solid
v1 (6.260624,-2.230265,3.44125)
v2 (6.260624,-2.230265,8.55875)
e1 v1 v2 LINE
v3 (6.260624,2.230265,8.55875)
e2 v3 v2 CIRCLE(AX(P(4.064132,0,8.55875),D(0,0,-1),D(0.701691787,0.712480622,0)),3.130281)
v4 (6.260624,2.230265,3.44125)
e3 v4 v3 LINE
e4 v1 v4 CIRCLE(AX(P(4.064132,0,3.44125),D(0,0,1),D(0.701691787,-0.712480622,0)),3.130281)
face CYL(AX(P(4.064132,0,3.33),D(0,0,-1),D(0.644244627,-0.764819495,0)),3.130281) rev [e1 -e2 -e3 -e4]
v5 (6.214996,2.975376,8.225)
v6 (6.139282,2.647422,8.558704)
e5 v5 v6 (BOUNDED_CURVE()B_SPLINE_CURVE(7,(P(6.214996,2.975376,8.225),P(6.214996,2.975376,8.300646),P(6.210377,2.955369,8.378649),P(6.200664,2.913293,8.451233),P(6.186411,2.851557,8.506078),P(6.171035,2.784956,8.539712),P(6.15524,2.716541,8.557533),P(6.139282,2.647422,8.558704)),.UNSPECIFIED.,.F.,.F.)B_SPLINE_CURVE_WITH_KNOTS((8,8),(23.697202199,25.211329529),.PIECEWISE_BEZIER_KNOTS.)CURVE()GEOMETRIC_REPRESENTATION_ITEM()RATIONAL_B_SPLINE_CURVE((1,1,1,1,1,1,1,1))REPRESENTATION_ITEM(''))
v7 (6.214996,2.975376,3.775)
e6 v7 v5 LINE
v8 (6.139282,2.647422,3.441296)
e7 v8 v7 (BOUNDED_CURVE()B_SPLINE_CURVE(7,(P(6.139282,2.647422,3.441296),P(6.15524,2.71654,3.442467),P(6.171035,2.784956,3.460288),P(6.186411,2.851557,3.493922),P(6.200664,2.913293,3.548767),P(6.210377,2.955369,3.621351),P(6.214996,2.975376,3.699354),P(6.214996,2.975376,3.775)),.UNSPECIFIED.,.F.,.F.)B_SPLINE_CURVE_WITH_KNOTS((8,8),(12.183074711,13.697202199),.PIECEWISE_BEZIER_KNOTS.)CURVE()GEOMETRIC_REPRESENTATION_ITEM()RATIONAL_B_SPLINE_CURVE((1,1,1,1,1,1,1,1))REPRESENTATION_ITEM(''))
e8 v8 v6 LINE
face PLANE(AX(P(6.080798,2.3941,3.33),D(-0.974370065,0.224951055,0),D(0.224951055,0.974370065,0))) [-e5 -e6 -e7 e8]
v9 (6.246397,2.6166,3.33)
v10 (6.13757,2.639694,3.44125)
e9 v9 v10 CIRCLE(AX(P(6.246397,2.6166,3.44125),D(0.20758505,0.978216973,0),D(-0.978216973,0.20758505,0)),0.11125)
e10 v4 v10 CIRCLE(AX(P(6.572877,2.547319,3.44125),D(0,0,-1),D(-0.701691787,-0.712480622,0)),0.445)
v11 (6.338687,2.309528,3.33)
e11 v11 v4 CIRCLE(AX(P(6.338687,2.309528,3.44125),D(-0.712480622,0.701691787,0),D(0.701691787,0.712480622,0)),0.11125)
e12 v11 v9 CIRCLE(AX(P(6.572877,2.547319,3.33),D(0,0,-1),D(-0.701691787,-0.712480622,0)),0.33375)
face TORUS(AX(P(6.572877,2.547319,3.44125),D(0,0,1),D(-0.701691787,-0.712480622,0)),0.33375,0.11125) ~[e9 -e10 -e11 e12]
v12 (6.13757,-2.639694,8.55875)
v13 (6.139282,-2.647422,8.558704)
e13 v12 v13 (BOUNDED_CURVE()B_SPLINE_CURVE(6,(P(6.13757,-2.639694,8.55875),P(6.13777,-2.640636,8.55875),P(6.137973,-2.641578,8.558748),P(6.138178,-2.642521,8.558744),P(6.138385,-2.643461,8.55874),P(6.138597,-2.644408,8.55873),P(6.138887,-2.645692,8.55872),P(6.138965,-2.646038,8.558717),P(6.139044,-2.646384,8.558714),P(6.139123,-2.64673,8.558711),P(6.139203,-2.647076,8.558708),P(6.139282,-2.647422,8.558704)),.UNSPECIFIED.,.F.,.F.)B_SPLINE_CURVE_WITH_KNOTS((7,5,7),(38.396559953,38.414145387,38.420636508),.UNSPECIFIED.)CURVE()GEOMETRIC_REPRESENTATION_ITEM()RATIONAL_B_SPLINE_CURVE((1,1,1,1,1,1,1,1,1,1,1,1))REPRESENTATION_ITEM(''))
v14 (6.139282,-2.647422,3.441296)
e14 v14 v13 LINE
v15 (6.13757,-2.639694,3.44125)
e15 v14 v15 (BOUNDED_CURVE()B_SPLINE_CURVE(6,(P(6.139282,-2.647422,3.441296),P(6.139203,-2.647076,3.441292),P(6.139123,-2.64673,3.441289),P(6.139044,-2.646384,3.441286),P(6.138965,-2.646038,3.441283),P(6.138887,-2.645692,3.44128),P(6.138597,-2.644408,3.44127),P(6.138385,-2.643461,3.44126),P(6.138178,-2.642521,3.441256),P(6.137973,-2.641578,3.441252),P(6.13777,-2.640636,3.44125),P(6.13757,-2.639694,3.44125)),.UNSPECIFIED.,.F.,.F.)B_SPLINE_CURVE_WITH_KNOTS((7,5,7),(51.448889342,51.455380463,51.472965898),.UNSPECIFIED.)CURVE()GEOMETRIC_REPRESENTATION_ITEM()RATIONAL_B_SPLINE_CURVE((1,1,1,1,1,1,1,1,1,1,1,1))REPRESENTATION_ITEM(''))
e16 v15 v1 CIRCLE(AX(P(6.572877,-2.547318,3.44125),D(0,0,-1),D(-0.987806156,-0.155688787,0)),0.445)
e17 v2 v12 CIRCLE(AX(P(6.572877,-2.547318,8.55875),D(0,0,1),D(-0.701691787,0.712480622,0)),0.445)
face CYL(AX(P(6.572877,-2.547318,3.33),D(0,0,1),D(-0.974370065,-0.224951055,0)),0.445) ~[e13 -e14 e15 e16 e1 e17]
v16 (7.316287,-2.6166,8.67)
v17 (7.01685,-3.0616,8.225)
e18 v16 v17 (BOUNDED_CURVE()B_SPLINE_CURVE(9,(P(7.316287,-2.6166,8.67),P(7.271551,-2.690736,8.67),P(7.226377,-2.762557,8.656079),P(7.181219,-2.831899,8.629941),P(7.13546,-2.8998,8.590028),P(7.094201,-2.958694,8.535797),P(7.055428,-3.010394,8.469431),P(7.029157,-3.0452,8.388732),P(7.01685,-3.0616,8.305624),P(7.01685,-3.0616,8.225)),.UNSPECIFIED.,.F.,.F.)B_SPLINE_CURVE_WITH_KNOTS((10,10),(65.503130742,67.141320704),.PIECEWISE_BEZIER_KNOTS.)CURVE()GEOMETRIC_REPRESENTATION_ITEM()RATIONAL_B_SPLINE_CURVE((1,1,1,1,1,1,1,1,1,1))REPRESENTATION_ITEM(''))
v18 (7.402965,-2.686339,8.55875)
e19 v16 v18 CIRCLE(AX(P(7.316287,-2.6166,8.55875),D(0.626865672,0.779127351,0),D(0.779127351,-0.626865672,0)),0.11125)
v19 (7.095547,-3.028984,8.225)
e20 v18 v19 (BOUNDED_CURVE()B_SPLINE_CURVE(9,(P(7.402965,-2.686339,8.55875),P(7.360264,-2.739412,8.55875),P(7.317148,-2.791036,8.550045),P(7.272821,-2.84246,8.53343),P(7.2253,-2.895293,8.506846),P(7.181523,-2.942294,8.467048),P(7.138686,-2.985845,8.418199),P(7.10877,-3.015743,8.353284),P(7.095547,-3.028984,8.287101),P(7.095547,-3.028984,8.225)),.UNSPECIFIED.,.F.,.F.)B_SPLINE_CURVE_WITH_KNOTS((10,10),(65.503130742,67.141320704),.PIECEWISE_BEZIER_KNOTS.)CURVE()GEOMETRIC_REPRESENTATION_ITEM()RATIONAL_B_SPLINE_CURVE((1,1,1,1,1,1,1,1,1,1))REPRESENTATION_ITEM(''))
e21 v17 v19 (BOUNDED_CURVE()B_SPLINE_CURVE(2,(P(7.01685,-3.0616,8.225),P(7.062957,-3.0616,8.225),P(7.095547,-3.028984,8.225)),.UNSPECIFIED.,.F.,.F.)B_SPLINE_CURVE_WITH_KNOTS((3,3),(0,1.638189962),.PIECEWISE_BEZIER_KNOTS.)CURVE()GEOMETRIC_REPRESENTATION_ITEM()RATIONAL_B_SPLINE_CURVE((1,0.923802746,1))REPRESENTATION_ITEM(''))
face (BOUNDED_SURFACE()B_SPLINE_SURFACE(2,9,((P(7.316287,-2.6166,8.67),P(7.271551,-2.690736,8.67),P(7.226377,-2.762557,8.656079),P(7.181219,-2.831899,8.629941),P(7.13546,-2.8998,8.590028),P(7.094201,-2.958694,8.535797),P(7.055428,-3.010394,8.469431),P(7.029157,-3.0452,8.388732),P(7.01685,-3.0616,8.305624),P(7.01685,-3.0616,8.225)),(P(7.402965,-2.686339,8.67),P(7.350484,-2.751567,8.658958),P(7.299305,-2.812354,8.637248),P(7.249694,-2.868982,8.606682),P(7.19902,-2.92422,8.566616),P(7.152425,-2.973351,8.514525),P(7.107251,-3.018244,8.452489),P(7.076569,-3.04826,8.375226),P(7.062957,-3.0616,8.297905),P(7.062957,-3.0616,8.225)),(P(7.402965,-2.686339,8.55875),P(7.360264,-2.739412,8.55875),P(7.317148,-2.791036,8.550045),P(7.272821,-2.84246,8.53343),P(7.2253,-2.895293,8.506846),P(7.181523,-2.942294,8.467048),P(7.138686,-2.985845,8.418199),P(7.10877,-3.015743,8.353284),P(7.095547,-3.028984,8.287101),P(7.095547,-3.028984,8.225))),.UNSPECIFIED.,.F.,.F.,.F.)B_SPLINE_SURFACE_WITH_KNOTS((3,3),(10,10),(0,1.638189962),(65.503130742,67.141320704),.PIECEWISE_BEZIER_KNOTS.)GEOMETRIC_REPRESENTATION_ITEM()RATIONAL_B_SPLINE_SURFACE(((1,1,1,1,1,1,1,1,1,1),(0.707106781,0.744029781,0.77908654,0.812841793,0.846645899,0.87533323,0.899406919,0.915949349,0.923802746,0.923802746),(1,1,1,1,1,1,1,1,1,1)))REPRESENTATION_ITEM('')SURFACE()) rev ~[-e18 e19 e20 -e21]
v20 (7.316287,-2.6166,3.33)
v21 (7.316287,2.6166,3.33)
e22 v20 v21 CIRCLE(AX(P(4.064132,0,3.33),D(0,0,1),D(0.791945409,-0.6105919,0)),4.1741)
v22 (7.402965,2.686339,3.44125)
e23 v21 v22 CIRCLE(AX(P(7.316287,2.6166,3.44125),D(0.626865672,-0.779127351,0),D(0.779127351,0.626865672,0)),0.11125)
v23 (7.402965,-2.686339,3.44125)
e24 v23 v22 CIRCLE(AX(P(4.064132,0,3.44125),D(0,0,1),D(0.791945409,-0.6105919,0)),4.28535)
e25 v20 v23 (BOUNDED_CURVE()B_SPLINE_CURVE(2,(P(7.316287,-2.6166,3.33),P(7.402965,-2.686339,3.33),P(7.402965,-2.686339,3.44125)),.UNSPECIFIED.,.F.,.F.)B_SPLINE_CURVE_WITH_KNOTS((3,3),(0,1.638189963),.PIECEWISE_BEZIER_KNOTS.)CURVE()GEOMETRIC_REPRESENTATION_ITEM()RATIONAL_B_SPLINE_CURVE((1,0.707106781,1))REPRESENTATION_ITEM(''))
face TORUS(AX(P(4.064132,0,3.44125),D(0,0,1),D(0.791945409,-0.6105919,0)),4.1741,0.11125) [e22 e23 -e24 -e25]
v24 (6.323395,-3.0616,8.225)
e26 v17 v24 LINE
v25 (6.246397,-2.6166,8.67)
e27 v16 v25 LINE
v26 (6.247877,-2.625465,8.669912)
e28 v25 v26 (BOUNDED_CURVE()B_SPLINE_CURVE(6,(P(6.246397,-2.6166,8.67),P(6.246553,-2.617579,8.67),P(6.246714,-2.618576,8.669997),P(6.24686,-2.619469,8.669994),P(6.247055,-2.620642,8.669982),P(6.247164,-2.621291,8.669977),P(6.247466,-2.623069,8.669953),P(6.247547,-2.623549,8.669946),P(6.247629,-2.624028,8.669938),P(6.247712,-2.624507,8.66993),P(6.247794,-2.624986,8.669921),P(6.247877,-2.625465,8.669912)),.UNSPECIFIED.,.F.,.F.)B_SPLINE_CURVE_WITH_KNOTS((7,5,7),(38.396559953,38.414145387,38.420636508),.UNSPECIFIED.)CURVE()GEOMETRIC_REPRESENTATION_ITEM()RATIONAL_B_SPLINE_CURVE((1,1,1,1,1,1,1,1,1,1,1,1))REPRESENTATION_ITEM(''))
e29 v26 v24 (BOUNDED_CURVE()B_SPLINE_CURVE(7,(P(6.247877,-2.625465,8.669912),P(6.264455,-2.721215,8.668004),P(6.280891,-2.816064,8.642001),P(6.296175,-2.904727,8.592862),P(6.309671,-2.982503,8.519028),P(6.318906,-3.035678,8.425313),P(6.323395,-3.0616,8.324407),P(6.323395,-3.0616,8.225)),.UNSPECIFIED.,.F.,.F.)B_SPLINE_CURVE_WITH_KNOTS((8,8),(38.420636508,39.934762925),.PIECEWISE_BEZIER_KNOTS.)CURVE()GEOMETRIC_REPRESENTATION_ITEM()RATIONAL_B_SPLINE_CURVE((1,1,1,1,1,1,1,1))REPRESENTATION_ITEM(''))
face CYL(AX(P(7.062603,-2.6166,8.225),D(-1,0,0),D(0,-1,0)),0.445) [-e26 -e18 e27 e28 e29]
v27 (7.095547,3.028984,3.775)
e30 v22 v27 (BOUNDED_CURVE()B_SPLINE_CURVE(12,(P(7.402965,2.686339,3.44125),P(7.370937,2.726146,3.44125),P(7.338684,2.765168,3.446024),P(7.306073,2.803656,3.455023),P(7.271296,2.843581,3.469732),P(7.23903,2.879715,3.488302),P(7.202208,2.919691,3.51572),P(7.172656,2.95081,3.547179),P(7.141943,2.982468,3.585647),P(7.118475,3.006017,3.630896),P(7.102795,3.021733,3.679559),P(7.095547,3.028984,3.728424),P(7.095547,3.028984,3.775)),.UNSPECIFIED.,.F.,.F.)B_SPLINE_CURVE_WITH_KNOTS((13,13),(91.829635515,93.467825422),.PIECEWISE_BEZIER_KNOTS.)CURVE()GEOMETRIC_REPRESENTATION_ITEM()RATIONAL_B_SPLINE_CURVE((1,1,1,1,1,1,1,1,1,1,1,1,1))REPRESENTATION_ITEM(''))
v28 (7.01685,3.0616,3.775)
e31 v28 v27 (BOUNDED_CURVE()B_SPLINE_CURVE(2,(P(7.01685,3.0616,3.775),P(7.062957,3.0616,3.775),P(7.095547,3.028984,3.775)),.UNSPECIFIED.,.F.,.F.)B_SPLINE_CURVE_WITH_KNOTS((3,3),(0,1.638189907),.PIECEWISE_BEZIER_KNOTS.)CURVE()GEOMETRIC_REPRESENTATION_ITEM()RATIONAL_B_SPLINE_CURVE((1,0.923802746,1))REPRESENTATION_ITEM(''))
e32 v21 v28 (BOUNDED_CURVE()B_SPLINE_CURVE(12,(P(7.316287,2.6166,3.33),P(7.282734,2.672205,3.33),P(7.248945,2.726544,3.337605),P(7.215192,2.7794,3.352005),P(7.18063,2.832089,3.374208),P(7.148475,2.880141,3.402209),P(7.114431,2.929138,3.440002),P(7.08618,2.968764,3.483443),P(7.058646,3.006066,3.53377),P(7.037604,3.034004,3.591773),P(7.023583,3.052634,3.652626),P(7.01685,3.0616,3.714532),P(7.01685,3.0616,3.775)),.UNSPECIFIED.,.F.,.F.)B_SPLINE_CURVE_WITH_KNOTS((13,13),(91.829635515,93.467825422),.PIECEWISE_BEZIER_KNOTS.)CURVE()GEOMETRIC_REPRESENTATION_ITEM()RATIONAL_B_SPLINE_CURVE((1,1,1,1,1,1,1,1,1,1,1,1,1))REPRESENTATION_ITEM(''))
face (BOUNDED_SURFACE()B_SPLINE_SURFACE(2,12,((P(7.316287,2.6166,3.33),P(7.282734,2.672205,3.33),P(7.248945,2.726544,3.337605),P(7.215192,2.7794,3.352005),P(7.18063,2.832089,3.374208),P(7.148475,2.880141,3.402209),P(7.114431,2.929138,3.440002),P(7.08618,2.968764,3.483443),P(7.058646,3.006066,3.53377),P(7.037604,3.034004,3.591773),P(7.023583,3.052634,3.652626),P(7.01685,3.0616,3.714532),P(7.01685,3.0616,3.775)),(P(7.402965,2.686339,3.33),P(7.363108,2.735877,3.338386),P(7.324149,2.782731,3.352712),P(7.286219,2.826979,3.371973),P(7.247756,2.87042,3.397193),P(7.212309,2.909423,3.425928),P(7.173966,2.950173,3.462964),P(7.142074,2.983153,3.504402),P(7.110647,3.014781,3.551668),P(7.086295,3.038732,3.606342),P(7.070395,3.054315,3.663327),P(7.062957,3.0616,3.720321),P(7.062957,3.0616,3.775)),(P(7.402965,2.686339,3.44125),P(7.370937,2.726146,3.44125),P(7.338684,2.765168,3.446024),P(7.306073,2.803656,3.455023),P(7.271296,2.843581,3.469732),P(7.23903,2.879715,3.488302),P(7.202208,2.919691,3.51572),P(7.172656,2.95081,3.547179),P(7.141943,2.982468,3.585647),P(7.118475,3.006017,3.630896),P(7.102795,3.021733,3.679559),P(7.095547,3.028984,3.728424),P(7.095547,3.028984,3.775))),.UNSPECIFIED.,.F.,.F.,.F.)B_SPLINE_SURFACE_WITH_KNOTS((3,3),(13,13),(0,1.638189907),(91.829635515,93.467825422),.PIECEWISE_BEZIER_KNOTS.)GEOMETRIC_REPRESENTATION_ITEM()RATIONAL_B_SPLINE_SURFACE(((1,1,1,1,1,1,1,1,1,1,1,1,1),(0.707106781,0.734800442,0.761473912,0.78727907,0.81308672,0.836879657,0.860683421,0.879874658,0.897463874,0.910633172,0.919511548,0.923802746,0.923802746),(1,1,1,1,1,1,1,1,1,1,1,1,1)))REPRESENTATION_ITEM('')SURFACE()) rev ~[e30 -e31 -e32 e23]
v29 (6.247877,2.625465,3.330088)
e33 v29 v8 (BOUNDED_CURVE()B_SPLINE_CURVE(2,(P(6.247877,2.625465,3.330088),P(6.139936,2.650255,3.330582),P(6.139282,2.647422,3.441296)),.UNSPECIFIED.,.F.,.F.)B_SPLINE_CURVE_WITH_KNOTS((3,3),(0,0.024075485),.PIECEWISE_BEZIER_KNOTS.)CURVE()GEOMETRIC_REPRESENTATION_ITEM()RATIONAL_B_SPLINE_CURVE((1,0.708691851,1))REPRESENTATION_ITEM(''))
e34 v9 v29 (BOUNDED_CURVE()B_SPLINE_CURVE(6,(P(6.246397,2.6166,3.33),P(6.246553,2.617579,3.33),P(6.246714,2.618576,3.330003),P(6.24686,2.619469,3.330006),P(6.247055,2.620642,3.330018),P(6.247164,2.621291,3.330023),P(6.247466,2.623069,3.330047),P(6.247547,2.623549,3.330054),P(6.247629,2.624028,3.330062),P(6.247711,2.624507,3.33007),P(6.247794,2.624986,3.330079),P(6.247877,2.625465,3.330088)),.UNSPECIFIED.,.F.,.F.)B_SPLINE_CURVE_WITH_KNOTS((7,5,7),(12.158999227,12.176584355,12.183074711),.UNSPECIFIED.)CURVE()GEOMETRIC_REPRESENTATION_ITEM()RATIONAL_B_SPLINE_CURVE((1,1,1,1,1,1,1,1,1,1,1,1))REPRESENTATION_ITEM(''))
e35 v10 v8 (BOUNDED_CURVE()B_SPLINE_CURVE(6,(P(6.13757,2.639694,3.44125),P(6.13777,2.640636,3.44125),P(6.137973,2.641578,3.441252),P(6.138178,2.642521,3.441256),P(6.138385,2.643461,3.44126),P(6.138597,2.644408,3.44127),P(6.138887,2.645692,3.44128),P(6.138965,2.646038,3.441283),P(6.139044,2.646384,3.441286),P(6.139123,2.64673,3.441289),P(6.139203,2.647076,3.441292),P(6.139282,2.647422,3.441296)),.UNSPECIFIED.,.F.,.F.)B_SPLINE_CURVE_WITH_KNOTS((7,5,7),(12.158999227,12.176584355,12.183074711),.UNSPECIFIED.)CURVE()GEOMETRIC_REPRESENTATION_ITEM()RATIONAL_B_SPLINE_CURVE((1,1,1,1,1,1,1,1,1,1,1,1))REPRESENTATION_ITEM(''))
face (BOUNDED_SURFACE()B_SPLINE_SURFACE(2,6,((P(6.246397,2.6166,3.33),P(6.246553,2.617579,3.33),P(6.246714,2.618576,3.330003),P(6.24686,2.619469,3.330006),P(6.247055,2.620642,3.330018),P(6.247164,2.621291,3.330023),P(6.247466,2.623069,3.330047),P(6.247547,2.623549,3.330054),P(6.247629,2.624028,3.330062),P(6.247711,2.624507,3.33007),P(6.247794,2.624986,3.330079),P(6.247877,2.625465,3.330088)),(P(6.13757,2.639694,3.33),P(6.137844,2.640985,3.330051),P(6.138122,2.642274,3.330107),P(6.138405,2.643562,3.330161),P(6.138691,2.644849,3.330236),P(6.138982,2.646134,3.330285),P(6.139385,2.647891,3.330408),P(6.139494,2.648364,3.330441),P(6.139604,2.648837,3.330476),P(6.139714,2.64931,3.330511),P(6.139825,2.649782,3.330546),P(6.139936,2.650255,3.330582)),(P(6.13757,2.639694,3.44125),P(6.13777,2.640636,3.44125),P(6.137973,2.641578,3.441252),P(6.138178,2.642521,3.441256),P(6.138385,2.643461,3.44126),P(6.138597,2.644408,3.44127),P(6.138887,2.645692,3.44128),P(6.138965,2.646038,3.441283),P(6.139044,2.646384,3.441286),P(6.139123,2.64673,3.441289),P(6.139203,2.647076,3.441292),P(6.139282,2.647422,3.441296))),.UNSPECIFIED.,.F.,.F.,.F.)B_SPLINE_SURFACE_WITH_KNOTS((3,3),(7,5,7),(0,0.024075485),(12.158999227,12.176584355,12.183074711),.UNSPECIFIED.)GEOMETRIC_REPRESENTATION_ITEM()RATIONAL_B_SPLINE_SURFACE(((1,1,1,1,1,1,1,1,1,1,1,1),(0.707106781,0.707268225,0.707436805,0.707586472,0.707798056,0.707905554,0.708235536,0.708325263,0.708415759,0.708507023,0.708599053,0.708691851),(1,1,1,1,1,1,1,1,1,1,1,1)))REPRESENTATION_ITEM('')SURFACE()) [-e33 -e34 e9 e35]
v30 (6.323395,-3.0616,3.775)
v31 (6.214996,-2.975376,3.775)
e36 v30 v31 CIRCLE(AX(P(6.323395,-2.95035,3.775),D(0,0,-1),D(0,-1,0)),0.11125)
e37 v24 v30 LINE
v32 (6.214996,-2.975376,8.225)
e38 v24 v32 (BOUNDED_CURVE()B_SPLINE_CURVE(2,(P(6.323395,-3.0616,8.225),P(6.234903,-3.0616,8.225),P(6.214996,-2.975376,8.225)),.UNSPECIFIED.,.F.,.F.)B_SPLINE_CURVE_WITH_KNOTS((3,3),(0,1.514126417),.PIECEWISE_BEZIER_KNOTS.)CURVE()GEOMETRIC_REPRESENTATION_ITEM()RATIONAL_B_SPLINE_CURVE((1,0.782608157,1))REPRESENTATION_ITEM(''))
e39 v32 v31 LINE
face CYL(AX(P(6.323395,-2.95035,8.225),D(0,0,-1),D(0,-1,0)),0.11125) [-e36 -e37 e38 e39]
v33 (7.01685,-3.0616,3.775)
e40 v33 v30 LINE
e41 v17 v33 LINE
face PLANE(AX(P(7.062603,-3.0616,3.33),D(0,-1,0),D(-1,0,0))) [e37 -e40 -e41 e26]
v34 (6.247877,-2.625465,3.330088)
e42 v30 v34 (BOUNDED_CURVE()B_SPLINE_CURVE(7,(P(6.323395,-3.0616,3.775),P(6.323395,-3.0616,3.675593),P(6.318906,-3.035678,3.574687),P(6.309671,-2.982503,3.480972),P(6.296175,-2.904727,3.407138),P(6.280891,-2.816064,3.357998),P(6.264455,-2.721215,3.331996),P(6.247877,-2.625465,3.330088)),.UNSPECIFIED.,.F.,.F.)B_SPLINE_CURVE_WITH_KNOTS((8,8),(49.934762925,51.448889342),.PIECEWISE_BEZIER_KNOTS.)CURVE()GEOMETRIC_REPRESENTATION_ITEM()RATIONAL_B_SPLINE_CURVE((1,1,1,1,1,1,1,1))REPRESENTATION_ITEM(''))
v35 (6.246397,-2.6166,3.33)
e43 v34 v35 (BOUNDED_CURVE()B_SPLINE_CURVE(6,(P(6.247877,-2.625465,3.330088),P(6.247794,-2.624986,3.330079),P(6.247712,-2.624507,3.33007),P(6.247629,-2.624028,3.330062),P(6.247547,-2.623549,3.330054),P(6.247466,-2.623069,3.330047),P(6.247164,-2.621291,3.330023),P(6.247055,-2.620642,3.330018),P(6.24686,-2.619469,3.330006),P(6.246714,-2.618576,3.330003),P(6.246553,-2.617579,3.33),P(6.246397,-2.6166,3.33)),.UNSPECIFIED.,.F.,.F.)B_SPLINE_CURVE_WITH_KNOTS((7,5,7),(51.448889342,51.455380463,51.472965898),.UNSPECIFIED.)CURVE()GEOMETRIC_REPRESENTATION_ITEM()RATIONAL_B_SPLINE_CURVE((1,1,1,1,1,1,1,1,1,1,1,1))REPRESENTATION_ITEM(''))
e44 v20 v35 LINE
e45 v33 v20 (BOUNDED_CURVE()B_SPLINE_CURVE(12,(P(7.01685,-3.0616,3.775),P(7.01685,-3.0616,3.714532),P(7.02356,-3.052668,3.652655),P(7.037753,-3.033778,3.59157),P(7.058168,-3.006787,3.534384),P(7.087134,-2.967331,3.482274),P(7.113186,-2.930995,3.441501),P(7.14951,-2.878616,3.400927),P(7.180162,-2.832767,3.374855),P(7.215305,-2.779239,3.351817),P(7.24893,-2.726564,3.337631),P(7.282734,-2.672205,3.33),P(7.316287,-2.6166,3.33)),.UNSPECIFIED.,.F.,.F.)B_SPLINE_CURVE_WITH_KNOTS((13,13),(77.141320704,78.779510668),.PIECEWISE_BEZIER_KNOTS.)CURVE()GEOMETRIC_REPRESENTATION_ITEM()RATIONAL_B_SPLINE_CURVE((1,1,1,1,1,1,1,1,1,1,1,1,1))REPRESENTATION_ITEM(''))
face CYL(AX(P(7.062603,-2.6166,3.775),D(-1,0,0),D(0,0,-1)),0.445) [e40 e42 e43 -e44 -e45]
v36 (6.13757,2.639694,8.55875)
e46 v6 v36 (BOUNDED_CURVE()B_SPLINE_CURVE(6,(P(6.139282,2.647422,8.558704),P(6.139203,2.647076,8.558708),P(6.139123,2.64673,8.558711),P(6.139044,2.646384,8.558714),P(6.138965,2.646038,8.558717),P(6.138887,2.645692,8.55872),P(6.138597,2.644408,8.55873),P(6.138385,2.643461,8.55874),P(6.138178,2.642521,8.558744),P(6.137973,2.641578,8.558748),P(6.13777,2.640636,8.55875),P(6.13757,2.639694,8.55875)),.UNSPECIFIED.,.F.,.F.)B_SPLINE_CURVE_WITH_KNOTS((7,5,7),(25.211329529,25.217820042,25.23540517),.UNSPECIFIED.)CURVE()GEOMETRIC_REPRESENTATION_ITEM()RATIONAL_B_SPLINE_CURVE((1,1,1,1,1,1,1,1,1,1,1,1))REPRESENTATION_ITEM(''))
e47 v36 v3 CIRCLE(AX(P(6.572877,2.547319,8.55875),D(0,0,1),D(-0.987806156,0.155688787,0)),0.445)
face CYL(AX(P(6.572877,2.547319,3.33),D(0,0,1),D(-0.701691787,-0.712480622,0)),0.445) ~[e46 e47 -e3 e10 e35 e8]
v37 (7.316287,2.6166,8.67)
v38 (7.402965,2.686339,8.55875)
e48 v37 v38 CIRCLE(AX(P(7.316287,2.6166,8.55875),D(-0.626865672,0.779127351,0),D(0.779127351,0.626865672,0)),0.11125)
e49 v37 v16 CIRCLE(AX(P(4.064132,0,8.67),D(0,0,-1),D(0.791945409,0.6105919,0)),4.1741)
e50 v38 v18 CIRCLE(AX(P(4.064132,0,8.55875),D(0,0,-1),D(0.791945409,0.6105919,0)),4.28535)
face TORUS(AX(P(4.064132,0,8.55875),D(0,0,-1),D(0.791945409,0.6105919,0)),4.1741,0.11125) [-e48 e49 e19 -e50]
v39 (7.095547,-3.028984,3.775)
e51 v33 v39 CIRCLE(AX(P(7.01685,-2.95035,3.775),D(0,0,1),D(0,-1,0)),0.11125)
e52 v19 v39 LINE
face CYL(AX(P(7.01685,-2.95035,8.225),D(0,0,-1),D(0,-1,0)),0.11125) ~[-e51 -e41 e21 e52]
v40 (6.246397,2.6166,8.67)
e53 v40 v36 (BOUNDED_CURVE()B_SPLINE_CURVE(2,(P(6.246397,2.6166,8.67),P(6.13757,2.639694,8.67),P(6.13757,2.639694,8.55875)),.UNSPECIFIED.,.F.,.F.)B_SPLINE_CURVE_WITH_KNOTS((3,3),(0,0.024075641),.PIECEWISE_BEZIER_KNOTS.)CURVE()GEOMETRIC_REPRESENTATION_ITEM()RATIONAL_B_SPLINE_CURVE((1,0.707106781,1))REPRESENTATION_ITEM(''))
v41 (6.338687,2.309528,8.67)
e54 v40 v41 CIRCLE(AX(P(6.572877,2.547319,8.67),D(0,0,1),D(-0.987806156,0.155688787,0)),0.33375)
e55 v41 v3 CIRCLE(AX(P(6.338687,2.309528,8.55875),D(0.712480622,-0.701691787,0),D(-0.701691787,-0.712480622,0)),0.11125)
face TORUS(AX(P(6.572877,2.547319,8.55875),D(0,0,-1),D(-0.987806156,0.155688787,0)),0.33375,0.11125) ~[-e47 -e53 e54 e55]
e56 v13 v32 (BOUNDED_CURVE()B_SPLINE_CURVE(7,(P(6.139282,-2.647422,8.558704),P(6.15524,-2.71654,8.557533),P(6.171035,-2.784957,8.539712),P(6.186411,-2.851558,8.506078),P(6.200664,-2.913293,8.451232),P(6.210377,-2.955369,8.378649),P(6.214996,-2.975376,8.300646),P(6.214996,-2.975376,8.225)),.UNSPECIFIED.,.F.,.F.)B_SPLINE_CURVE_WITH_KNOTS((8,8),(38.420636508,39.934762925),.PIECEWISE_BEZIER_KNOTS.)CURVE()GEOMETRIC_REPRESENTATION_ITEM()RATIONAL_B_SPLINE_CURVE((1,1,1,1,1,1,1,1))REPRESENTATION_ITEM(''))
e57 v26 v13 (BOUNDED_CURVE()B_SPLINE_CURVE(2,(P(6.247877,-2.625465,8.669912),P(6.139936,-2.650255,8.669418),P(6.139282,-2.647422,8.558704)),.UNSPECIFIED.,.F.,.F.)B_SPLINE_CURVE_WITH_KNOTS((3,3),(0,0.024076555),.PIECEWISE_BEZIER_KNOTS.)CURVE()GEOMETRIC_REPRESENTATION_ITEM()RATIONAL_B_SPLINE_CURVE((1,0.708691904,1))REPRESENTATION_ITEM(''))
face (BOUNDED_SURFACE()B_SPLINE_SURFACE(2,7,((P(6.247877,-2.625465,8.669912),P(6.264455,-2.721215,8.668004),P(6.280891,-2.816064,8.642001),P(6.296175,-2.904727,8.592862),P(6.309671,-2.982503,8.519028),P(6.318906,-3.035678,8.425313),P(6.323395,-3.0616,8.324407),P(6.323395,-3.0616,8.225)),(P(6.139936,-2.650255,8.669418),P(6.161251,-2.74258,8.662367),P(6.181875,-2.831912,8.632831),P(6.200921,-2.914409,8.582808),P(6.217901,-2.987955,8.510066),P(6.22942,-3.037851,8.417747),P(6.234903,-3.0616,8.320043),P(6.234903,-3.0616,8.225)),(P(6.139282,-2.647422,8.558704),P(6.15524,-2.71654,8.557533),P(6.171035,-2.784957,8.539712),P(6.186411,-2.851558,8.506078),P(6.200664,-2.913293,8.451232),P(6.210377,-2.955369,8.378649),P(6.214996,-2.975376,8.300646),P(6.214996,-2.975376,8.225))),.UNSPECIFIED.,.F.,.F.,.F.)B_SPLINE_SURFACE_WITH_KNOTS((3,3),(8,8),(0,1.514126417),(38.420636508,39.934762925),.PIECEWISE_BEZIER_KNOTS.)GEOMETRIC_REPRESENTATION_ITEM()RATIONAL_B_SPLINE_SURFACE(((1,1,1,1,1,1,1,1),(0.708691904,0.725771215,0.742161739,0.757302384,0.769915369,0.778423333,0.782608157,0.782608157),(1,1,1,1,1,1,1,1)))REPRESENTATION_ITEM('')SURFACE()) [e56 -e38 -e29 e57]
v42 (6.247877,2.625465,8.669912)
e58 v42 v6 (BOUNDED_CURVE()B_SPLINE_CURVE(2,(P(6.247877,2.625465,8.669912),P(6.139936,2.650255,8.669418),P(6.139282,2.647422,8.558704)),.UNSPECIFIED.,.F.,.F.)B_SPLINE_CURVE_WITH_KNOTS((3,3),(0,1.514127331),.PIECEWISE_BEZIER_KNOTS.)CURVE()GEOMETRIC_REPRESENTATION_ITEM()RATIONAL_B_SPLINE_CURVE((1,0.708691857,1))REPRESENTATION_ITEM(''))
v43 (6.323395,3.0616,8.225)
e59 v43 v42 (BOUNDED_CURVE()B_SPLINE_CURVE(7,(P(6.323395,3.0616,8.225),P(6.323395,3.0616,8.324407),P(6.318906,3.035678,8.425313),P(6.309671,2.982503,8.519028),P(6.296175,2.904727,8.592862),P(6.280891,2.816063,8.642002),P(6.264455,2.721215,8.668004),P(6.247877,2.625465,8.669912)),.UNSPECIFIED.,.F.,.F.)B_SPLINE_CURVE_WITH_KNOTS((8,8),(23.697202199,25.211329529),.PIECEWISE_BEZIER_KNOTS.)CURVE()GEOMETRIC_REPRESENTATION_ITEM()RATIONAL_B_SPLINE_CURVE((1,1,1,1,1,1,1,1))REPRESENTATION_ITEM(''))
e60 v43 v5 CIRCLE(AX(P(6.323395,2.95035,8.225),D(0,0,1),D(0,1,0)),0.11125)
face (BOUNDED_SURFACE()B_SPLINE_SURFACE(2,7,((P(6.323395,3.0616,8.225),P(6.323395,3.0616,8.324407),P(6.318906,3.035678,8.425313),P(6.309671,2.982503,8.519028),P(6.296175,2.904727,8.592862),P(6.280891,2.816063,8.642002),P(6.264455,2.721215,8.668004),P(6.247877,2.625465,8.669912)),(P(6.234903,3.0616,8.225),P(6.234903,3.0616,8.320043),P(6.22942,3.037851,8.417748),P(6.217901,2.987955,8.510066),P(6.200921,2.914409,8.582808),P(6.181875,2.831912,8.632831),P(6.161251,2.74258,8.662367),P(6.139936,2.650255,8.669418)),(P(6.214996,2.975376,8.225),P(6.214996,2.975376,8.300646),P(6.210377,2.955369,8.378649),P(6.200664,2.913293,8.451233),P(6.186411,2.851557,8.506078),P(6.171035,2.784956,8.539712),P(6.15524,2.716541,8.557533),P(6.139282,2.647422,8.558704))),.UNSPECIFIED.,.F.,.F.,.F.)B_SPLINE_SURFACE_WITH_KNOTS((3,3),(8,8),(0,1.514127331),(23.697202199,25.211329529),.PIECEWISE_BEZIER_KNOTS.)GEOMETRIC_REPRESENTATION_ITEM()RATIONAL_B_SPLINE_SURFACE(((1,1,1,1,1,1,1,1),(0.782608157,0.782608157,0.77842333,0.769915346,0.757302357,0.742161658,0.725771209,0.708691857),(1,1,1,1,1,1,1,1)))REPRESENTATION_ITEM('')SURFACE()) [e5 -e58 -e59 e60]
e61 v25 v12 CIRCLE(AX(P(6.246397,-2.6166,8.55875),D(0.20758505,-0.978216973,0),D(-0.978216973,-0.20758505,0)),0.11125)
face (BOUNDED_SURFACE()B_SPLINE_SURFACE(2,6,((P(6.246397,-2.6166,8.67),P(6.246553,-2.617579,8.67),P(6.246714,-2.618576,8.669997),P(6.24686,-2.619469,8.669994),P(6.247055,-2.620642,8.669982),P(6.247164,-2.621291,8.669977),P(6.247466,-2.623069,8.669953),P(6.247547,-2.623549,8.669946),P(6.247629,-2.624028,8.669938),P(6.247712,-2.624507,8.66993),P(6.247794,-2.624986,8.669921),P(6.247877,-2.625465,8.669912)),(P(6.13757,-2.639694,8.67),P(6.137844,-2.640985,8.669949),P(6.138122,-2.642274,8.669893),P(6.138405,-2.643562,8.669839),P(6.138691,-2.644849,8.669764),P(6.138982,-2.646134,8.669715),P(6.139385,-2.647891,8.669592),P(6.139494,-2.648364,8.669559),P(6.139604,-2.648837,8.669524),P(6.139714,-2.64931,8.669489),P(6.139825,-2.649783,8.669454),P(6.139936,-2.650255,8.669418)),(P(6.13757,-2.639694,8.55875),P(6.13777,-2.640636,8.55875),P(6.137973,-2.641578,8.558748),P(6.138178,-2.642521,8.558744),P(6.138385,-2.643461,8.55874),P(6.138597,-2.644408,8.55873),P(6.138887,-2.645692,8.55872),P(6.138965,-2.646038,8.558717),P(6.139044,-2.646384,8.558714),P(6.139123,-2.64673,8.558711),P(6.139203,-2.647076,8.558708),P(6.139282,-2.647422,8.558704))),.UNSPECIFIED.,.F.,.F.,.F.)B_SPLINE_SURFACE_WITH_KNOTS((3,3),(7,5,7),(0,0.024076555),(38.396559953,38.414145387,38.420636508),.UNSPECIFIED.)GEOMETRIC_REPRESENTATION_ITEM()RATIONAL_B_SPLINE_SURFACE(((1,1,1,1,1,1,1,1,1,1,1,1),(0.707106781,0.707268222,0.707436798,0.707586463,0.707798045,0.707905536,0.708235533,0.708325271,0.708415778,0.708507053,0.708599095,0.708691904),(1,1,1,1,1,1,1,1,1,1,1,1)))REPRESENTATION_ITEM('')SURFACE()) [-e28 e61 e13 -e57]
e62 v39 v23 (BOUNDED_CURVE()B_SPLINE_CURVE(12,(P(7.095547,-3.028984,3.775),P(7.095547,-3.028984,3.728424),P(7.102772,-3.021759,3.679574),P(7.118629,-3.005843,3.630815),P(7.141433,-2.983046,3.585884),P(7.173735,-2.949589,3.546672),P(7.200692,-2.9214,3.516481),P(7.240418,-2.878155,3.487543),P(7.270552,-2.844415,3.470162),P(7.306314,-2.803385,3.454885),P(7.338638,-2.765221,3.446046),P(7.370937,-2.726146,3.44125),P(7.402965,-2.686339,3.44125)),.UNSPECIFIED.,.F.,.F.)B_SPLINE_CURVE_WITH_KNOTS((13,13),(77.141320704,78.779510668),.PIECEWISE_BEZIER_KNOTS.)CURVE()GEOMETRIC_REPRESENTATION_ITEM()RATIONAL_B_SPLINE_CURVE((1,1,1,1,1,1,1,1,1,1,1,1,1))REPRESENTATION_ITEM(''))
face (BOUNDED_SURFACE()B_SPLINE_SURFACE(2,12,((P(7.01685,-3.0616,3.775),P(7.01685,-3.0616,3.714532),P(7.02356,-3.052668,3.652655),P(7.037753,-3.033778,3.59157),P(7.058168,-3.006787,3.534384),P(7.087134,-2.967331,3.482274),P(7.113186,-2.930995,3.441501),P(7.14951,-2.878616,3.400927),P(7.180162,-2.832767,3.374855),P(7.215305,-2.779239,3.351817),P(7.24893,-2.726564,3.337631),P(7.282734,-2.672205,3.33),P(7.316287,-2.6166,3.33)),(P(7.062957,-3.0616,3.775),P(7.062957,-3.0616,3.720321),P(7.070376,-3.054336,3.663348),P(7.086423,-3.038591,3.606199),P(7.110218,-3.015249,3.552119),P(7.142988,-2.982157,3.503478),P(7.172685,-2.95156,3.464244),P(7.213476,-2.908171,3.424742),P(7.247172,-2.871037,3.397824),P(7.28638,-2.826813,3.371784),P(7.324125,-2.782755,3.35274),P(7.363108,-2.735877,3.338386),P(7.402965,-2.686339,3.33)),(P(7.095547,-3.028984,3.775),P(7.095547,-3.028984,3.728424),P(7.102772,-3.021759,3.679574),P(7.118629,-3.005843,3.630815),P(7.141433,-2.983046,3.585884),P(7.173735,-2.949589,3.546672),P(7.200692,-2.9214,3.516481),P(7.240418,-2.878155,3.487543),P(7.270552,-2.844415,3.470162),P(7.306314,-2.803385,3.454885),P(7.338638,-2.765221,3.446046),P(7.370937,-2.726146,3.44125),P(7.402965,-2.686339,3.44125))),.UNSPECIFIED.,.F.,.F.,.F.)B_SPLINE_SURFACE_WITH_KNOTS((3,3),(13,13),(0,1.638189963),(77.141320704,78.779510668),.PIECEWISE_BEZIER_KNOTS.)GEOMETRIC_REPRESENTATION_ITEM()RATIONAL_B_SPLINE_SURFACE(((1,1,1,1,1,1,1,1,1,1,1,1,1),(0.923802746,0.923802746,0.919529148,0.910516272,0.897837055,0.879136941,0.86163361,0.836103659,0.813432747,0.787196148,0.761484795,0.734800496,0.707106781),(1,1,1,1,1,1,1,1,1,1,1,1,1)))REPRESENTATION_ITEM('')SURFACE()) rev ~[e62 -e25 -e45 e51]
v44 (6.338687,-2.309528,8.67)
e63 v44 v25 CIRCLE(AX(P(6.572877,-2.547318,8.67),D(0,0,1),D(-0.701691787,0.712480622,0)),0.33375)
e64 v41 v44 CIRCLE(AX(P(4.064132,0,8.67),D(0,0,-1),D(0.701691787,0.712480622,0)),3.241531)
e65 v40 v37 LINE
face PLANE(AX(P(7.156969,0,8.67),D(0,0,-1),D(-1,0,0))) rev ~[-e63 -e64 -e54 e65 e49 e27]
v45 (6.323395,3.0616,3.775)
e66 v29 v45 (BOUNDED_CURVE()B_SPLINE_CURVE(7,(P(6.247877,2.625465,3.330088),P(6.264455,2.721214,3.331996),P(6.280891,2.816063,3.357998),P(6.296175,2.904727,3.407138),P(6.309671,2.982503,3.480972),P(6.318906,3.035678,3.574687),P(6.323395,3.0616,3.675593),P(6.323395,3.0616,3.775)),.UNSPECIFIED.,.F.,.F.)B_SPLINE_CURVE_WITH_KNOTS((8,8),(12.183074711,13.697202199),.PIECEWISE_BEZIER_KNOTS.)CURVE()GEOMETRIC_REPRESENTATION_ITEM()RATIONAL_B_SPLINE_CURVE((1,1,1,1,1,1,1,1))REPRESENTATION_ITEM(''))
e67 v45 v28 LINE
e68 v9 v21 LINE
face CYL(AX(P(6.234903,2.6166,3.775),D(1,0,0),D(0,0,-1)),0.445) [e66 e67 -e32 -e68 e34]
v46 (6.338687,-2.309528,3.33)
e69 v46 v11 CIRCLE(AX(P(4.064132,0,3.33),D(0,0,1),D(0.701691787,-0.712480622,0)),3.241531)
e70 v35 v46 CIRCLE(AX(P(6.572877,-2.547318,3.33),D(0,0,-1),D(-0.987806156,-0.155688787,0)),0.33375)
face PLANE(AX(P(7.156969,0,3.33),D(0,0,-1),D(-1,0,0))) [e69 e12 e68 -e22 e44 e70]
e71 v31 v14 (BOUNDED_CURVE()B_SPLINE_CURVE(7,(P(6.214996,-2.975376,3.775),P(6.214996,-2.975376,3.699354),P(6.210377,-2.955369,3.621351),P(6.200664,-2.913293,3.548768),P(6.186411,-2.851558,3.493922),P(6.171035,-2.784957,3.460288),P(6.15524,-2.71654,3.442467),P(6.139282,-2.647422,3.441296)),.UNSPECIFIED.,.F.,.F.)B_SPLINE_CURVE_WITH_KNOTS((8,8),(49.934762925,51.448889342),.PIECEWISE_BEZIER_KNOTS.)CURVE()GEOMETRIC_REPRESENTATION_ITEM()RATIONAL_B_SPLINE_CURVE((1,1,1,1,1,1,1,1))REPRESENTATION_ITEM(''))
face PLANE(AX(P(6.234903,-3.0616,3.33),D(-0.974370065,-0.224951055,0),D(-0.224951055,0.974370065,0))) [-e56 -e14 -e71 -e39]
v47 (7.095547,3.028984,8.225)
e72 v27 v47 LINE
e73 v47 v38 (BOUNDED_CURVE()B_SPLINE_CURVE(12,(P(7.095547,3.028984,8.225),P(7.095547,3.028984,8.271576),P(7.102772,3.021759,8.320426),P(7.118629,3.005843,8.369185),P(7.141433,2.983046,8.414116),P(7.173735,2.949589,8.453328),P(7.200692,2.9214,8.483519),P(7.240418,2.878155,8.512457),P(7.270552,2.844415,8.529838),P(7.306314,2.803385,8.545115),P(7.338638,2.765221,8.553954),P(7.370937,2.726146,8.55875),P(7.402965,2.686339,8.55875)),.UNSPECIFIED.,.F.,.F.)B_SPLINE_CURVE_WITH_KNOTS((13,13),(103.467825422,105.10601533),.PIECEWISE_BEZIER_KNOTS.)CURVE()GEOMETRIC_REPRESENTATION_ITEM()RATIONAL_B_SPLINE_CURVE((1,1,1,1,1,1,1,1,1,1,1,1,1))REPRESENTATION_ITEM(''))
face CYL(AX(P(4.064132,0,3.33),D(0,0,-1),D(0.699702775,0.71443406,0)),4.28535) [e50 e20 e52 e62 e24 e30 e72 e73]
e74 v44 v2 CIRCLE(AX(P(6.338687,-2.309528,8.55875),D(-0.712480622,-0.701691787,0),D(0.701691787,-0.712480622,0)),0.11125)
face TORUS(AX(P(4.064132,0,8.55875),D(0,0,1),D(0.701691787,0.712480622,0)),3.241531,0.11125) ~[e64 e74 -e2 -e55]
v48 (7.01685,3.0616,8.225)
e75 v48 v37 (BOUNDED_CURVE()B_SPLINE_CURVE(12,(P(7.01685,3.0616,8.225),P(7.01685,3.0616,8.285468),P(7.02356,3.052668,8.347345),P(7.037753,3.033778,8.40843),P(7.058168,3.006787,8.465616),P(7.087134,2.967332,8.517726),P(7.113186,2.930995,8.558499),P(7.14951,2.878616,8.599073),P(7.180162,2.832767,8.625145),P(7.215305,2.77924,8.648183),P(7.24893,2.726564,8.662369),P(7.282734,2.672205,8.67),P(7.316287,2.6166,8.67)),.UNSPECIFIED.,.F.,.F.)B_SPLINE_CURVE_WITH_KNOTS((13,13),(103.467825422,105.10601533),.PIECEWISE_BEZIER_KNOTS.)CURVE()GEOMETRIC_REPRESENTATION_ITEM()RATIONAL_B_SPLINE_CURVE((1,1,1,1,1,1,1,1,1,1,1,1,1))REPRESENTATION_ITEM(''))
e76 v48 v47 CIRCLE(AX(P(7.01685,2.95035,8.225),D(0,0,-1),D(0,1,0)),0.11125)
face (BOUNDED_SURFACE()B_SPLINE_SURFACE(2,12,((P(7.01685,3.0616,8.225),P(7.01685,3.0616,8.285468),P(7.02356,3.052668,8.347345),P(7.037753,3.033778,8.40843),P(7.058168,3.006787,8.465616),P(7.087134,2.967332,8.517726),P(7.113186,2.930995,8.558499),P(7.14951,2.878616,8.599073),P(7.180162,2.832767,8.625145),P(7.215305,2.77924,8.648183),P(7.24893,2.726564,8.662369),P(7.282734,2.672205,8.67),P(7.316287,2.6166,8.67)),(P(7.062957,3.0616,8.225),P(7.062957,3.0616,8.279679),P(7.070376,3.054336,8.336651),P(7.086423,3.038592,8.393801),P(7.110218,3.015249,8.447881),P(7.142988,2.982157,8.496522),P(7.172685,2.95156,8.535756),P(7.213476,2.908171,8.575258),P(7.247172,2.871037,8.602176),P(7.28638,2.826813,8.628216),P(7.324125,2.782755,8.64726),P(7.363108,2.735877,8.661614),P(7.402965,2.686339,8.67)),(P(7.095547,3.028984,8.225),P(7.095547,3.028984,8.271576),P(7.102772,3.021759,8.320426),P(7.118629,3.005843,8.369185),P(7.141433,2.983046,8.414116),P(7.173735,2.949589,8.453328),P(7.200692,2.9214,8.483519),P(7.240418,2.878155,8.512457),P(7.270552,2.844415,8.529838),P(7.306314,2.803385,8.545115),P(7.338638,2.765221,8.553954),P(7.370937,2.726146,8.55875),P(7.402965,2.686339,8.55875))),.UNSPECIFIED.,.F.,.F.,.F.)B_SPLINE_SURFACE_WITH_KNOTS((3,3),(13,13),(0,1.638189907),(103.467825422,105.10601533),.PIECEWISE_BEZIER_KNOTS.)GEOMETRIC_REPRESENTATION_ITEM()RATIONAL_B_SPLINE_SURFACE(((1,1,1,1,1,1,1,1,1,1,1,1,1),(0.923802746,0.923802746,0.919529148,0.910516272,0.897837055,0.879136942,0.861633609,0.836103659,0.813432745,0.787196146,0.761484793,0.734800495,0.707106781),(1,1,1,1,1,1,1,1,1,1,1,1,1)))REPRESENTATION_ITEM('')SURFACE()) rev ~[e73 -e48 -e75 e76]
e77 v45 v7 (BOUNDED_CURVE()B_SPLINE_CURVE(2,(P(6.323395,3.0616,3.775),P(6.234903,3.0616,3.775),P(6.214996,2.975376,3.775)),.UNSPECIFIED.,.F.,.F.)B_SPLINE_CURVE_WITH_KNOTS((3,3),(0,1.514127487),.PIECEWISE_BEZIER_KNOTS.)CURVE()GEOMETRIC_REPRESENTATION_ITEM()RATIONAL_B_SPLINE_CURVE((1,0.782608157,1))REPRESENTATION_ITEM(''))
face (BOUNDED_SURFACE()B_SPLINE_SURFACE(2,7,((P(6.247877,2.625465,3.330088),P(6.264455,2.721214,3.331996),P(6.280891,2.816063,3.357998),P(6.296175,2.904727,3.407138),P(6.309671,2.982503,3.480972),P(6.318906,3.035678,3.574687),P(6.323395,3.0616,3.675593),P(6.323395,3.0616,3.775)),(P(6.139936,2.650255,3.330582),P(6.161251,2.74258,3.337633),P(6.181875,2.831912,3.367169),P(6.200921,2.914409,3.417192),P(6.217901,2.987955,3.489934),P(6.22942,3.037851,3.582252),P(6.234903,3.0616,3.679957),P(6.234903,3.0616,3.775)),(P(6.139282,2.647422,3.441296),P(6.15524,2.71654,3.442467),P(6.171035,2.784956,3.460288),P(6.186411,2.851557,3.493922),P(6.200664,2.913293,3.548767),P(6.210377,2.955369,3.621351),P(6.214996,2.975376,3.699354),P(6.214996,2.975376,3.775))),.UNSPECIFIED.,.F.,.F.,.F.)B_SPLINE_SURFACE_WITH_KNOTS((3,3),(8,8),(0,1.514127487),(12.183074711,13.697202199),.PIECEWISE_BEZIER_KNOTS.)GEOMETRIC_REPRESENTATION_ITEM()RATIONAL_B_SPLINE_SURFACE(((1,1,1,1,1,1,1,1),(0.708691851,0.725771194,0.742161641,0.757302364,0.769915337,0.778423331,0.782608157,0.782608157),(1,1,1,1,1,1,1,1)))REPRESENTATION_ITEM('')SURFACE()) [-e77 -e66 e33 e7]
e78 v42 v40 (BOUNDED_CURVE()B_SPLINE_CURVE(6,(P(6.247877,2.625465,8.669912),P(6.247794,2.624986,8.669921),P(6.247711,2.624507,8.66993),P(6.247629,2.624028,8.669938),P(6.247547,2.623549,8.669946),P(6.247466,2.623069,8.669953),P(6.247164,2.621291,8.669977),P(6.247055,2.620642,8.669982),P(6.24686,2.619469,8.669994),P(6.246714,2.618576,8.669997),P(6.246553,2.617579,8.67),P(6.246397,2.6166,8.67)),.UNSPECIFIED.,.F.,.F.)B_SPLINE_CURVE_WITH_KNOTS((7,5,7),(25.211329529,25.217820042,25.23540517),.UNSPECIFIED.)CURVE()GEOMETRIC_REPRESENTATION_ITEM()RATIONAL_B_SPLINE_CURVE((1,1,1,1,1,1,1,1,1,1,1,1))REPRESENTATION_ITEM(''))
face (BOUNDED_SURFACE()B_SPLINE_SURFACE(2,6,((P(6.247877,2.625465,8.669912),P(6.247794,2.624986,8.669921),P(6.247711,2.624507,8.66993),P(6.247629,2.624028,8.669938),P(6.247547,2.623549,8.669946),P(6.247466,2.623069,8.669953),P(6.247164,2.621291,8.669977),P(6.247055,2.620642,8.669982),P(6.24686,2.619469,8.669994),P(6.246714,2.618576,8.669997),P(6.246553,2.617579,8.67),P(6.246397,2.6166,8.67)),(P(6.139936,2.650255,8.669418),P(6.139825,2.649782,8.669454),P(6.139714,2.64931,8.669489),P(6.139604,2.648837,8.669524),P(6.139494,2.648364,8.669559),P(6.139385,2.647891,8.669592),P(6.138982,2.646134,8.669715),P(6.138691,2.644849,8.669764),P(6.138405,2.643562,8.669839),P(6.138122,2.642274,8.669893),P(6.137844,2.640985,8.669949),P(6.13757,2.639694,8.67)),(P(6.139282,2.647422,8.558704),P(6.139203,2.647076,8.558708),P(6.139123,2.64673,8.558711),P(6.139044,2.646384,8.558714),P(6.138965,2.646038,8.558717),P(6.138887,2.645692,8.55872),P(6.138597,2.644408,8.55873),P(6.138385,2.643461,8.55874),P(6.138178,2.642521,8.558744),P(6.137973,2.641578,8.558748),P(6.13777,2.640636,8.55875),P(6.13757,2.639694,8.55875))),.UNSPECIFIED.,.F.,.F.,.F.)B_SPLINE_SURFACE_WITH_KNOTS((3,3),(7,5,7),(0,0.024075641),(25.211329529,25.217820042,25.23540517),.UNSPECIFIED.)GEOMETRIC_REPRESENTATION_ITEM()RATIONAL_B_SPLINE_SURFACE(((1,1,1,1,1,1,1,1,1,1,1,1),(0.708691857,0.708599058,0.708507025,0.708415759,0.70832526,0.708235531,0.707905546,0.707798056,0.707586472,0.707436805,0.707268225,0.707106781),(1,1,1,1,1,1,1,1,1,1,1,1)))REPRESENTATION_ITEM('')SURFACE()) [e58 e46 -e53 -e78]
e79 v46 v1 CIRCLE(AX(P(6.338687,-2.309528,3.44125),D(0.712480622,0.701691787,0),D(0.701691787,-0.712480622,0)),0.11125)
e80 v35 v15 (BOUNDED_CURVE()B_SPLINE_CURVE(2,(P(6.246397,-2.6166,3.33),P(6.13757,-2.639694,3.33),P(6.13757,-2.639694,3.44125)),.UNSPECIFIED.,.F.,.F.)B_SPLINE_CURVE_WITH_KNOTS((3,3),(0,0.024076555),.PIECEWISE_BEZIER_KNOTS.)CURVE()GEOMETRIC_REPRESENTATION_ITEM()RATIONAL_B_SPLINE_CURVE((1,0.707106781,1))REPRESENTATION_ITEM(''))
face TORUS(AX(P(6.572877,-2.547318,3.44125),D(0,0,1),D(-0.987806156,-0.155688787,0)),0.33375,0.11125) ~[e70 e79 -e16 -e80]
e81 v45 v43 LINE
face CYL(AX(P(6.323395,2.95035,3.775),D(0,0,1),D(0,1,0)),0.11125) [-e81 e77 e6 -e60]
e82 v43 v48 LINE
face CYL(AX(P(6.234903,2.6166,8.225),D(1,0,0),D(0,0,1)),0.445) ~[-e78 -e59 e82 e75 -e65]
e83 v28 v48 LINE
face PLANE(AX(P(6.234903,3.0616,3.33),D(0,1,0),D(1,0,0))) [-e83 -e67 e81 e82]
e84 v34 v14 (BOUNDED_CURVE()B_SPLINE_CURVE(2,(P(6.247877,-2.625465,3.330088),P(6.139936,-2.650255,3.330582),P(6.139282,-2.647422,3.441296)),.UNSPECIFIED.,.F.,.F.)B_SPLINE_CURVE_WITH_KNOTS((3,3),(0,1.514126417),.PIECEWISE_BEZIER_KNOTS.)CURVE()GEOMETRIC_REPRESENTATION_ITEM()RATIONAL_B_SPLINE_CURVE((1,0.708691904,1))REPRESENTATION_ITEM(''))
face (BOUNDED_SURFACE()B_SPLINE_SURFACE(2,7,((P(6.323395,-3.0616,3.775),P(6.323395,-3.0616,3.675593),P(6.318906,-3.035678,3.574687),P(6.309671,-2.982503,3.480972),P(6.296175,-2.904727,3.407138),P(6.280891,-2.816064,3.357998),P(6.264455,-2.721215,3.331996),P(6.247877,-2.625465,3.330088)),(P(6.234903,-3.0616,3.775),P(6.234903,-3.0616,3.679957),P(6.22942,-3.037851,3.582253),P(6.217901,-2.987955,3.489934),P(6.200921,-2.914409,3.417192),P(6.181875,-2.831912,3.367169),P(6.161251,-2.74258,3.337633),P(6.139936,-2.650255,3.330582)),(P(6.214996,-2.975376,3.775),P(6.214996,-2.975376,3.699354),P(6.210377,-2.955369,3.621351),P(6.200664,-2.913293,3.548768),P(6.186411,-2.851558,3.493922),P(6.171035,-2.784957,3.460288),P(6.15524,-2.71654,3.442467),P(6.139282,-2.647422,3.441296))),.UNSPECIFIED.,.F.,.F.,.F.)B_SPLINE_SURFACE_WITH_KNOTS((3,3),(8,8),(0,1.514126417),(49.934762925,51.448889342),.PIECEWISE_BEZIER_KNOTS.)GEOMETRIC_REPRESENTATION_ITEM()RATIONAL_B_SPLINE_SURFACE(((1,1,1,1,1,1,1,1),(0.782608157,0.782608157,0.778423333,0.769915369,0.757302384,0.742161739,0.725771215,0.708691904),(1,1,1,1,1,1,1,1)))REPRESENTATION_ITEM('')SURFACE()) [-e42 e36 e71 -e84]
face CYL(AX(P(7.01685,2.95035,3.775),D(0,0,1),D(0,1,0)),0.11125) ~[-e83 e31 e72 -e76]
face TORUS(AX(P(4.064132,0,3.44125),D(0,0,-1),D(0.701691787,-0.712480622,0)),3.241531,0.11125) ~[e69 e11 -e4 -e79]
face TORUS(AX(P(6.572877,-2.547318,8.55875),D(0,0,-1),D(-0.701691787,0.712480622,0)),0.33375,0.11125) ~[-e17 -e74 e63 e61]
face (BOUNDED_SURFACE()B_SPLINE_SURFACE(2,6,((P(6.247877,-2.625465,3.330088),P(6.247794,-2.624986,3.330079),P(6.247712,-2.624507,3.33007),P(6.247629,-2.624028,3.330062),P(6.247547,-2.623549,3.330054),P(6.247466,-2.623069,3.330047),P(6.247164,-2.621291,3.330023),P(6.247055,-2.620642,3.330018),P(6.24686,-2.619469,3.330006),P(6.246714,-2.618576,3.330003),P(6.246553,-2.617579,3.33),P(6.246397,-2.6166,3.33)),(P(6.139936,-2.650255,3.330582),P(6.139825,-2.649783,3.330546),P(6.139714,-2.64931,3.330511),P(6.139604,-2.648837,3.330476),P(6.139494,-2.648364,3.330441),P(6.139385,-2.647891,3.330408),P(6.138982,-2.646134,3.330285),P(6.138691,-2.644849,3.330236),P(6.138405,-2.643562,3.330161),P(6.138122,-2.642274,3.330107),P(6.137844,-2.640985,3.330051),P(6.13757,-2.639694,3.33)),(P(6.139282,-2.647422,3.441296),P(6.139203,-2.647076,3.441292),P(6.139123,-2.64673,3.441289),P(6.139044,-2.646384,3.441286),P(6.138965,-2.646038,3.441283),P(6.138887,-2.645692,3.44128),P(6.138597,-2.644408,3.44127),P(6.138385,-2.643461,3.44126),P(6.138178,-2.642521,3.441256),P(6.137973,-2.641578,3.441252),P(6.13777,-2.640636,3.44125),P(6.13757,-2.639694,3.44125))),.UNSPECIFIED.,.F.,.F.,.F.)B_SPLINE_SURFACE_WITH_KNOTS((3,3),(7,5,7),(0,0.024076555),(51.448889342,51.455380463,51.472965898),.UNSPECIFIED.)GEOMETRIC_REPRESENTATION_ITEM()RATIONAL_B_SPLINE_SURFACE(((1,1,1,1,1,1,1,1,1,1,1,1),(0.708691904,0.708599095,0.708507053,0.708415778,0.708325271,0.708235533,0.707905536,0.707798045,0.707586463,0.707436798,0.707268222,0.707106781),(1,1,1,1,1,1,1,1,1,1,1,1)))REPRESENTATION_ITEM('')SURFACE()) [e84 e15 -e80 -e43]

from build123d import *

# Parameters (mm, degrees)
BOSS_EXTRUDE1_DEPTH = 12
FILLET1_R           = 1
FILLET2_R           = 1
FILLET3_R           = 0.25
SCALE1_SCALE        = 0.445


with BuildPart() as part:
    # Sketch1 → Boss-Extrude1 (new body)
    with BuildSketch(Plane.XY):
        with BuildLine():
            Line((6.738137725, -6.88), (4.878137725, -6.88))
            Line((4.878137725, -6.88), (4.531835438, -5.38))
            ThreePointArc((4.531835438, -5.38), (7.034339517, 0), (4.531835438, 5.38))
            Line((4.531835438, 5.38), (4.878137725, 6.88))
            Line((4.878137725, 6.88), (6.738137725, 6.88))
            ThreePointArc((6.738137725, 6.88), (9.63, 0), (6.738137725, -6.88))
        make_face()
    extrude(amount=BOSS_EXTRUDE1_DEPTH)

    # Fillet1
    fillet1_edges = [part.edges().sort_by_distance(p)[0] for p in [
        (4.531835438, -5.38, 6),
        (4.531835438, 5.38, 6),
    ]]
    fillet(fillet1_edges, radius=FILLET1_R)

    # Fillet2
    fillet2_edges = [part.edges().sort_by_distance(p)[0] for p in [
        (5.808137725, -6.88, 12),
        (5.808137725, -6.88, 0),
        (5.808137725, 6.88, 12),
        (5.808137725, 6.88, 0),
    ]]
    fillet(fillet2_edges, radius=FILLET2_R)

    # Fillet3
    fillet3_edges = [part.edges().sort_by_distance(p)[0] for p in [
        (7.034339517, 0, 0),
        (4.687877266, 5.411310183, 0),
        (7.034339517, 0, 12),
        (4.687877266, -5.411310183, 12),
        (9.63, 0, 12),
        (4.687877266, 5.411310183, 12),
        (9.63, 0, 0),
        (6.738137725, 6.88, 6),
        (6.738137725, -6.88, 6),
        (7.064336577, 6.544619807, 0.2528183),
        (7.064336577, 6.544619807, 11.7471817),
        (7.064336577, -6.544619807, 0.2528183),
        (7.064336589, -6.544619821, 11.747181705),
        (4.878137725, -6.88, 6),
        (4.815123489, -6.607055355, 0.313421155),
        (4.815123489, -6.607055355, 11.686578845),
        (4.687877266, -5.411310183, 0),
        (4.655934772, -5.914769545, 0.000604643),
        (4.655934772, -5.914769545, 11.999395357),
        (4.655934776, 5.914769544, 0.00060465),
        (4.655934776, 5.914769544, 11.99939535),
        (4.878137725, 6.88, 6),
        (4.815123489, 6.607055355, 0.313421155),
        (4.815123489, 6.607055355, 11.686578845),
    ]]
    fillet(fillet3_edges, radius=FILLET3_R)


with BuildPart() as part_1:
    # Scale1: scaled about (7.322759703, 3.2e-08, 5.999999972)
    add(part.part.scale(SCALE1_SCALE).moved(Location((4.064131635, 1.8e-08, 3.329999984))))


solid = part_1.part
